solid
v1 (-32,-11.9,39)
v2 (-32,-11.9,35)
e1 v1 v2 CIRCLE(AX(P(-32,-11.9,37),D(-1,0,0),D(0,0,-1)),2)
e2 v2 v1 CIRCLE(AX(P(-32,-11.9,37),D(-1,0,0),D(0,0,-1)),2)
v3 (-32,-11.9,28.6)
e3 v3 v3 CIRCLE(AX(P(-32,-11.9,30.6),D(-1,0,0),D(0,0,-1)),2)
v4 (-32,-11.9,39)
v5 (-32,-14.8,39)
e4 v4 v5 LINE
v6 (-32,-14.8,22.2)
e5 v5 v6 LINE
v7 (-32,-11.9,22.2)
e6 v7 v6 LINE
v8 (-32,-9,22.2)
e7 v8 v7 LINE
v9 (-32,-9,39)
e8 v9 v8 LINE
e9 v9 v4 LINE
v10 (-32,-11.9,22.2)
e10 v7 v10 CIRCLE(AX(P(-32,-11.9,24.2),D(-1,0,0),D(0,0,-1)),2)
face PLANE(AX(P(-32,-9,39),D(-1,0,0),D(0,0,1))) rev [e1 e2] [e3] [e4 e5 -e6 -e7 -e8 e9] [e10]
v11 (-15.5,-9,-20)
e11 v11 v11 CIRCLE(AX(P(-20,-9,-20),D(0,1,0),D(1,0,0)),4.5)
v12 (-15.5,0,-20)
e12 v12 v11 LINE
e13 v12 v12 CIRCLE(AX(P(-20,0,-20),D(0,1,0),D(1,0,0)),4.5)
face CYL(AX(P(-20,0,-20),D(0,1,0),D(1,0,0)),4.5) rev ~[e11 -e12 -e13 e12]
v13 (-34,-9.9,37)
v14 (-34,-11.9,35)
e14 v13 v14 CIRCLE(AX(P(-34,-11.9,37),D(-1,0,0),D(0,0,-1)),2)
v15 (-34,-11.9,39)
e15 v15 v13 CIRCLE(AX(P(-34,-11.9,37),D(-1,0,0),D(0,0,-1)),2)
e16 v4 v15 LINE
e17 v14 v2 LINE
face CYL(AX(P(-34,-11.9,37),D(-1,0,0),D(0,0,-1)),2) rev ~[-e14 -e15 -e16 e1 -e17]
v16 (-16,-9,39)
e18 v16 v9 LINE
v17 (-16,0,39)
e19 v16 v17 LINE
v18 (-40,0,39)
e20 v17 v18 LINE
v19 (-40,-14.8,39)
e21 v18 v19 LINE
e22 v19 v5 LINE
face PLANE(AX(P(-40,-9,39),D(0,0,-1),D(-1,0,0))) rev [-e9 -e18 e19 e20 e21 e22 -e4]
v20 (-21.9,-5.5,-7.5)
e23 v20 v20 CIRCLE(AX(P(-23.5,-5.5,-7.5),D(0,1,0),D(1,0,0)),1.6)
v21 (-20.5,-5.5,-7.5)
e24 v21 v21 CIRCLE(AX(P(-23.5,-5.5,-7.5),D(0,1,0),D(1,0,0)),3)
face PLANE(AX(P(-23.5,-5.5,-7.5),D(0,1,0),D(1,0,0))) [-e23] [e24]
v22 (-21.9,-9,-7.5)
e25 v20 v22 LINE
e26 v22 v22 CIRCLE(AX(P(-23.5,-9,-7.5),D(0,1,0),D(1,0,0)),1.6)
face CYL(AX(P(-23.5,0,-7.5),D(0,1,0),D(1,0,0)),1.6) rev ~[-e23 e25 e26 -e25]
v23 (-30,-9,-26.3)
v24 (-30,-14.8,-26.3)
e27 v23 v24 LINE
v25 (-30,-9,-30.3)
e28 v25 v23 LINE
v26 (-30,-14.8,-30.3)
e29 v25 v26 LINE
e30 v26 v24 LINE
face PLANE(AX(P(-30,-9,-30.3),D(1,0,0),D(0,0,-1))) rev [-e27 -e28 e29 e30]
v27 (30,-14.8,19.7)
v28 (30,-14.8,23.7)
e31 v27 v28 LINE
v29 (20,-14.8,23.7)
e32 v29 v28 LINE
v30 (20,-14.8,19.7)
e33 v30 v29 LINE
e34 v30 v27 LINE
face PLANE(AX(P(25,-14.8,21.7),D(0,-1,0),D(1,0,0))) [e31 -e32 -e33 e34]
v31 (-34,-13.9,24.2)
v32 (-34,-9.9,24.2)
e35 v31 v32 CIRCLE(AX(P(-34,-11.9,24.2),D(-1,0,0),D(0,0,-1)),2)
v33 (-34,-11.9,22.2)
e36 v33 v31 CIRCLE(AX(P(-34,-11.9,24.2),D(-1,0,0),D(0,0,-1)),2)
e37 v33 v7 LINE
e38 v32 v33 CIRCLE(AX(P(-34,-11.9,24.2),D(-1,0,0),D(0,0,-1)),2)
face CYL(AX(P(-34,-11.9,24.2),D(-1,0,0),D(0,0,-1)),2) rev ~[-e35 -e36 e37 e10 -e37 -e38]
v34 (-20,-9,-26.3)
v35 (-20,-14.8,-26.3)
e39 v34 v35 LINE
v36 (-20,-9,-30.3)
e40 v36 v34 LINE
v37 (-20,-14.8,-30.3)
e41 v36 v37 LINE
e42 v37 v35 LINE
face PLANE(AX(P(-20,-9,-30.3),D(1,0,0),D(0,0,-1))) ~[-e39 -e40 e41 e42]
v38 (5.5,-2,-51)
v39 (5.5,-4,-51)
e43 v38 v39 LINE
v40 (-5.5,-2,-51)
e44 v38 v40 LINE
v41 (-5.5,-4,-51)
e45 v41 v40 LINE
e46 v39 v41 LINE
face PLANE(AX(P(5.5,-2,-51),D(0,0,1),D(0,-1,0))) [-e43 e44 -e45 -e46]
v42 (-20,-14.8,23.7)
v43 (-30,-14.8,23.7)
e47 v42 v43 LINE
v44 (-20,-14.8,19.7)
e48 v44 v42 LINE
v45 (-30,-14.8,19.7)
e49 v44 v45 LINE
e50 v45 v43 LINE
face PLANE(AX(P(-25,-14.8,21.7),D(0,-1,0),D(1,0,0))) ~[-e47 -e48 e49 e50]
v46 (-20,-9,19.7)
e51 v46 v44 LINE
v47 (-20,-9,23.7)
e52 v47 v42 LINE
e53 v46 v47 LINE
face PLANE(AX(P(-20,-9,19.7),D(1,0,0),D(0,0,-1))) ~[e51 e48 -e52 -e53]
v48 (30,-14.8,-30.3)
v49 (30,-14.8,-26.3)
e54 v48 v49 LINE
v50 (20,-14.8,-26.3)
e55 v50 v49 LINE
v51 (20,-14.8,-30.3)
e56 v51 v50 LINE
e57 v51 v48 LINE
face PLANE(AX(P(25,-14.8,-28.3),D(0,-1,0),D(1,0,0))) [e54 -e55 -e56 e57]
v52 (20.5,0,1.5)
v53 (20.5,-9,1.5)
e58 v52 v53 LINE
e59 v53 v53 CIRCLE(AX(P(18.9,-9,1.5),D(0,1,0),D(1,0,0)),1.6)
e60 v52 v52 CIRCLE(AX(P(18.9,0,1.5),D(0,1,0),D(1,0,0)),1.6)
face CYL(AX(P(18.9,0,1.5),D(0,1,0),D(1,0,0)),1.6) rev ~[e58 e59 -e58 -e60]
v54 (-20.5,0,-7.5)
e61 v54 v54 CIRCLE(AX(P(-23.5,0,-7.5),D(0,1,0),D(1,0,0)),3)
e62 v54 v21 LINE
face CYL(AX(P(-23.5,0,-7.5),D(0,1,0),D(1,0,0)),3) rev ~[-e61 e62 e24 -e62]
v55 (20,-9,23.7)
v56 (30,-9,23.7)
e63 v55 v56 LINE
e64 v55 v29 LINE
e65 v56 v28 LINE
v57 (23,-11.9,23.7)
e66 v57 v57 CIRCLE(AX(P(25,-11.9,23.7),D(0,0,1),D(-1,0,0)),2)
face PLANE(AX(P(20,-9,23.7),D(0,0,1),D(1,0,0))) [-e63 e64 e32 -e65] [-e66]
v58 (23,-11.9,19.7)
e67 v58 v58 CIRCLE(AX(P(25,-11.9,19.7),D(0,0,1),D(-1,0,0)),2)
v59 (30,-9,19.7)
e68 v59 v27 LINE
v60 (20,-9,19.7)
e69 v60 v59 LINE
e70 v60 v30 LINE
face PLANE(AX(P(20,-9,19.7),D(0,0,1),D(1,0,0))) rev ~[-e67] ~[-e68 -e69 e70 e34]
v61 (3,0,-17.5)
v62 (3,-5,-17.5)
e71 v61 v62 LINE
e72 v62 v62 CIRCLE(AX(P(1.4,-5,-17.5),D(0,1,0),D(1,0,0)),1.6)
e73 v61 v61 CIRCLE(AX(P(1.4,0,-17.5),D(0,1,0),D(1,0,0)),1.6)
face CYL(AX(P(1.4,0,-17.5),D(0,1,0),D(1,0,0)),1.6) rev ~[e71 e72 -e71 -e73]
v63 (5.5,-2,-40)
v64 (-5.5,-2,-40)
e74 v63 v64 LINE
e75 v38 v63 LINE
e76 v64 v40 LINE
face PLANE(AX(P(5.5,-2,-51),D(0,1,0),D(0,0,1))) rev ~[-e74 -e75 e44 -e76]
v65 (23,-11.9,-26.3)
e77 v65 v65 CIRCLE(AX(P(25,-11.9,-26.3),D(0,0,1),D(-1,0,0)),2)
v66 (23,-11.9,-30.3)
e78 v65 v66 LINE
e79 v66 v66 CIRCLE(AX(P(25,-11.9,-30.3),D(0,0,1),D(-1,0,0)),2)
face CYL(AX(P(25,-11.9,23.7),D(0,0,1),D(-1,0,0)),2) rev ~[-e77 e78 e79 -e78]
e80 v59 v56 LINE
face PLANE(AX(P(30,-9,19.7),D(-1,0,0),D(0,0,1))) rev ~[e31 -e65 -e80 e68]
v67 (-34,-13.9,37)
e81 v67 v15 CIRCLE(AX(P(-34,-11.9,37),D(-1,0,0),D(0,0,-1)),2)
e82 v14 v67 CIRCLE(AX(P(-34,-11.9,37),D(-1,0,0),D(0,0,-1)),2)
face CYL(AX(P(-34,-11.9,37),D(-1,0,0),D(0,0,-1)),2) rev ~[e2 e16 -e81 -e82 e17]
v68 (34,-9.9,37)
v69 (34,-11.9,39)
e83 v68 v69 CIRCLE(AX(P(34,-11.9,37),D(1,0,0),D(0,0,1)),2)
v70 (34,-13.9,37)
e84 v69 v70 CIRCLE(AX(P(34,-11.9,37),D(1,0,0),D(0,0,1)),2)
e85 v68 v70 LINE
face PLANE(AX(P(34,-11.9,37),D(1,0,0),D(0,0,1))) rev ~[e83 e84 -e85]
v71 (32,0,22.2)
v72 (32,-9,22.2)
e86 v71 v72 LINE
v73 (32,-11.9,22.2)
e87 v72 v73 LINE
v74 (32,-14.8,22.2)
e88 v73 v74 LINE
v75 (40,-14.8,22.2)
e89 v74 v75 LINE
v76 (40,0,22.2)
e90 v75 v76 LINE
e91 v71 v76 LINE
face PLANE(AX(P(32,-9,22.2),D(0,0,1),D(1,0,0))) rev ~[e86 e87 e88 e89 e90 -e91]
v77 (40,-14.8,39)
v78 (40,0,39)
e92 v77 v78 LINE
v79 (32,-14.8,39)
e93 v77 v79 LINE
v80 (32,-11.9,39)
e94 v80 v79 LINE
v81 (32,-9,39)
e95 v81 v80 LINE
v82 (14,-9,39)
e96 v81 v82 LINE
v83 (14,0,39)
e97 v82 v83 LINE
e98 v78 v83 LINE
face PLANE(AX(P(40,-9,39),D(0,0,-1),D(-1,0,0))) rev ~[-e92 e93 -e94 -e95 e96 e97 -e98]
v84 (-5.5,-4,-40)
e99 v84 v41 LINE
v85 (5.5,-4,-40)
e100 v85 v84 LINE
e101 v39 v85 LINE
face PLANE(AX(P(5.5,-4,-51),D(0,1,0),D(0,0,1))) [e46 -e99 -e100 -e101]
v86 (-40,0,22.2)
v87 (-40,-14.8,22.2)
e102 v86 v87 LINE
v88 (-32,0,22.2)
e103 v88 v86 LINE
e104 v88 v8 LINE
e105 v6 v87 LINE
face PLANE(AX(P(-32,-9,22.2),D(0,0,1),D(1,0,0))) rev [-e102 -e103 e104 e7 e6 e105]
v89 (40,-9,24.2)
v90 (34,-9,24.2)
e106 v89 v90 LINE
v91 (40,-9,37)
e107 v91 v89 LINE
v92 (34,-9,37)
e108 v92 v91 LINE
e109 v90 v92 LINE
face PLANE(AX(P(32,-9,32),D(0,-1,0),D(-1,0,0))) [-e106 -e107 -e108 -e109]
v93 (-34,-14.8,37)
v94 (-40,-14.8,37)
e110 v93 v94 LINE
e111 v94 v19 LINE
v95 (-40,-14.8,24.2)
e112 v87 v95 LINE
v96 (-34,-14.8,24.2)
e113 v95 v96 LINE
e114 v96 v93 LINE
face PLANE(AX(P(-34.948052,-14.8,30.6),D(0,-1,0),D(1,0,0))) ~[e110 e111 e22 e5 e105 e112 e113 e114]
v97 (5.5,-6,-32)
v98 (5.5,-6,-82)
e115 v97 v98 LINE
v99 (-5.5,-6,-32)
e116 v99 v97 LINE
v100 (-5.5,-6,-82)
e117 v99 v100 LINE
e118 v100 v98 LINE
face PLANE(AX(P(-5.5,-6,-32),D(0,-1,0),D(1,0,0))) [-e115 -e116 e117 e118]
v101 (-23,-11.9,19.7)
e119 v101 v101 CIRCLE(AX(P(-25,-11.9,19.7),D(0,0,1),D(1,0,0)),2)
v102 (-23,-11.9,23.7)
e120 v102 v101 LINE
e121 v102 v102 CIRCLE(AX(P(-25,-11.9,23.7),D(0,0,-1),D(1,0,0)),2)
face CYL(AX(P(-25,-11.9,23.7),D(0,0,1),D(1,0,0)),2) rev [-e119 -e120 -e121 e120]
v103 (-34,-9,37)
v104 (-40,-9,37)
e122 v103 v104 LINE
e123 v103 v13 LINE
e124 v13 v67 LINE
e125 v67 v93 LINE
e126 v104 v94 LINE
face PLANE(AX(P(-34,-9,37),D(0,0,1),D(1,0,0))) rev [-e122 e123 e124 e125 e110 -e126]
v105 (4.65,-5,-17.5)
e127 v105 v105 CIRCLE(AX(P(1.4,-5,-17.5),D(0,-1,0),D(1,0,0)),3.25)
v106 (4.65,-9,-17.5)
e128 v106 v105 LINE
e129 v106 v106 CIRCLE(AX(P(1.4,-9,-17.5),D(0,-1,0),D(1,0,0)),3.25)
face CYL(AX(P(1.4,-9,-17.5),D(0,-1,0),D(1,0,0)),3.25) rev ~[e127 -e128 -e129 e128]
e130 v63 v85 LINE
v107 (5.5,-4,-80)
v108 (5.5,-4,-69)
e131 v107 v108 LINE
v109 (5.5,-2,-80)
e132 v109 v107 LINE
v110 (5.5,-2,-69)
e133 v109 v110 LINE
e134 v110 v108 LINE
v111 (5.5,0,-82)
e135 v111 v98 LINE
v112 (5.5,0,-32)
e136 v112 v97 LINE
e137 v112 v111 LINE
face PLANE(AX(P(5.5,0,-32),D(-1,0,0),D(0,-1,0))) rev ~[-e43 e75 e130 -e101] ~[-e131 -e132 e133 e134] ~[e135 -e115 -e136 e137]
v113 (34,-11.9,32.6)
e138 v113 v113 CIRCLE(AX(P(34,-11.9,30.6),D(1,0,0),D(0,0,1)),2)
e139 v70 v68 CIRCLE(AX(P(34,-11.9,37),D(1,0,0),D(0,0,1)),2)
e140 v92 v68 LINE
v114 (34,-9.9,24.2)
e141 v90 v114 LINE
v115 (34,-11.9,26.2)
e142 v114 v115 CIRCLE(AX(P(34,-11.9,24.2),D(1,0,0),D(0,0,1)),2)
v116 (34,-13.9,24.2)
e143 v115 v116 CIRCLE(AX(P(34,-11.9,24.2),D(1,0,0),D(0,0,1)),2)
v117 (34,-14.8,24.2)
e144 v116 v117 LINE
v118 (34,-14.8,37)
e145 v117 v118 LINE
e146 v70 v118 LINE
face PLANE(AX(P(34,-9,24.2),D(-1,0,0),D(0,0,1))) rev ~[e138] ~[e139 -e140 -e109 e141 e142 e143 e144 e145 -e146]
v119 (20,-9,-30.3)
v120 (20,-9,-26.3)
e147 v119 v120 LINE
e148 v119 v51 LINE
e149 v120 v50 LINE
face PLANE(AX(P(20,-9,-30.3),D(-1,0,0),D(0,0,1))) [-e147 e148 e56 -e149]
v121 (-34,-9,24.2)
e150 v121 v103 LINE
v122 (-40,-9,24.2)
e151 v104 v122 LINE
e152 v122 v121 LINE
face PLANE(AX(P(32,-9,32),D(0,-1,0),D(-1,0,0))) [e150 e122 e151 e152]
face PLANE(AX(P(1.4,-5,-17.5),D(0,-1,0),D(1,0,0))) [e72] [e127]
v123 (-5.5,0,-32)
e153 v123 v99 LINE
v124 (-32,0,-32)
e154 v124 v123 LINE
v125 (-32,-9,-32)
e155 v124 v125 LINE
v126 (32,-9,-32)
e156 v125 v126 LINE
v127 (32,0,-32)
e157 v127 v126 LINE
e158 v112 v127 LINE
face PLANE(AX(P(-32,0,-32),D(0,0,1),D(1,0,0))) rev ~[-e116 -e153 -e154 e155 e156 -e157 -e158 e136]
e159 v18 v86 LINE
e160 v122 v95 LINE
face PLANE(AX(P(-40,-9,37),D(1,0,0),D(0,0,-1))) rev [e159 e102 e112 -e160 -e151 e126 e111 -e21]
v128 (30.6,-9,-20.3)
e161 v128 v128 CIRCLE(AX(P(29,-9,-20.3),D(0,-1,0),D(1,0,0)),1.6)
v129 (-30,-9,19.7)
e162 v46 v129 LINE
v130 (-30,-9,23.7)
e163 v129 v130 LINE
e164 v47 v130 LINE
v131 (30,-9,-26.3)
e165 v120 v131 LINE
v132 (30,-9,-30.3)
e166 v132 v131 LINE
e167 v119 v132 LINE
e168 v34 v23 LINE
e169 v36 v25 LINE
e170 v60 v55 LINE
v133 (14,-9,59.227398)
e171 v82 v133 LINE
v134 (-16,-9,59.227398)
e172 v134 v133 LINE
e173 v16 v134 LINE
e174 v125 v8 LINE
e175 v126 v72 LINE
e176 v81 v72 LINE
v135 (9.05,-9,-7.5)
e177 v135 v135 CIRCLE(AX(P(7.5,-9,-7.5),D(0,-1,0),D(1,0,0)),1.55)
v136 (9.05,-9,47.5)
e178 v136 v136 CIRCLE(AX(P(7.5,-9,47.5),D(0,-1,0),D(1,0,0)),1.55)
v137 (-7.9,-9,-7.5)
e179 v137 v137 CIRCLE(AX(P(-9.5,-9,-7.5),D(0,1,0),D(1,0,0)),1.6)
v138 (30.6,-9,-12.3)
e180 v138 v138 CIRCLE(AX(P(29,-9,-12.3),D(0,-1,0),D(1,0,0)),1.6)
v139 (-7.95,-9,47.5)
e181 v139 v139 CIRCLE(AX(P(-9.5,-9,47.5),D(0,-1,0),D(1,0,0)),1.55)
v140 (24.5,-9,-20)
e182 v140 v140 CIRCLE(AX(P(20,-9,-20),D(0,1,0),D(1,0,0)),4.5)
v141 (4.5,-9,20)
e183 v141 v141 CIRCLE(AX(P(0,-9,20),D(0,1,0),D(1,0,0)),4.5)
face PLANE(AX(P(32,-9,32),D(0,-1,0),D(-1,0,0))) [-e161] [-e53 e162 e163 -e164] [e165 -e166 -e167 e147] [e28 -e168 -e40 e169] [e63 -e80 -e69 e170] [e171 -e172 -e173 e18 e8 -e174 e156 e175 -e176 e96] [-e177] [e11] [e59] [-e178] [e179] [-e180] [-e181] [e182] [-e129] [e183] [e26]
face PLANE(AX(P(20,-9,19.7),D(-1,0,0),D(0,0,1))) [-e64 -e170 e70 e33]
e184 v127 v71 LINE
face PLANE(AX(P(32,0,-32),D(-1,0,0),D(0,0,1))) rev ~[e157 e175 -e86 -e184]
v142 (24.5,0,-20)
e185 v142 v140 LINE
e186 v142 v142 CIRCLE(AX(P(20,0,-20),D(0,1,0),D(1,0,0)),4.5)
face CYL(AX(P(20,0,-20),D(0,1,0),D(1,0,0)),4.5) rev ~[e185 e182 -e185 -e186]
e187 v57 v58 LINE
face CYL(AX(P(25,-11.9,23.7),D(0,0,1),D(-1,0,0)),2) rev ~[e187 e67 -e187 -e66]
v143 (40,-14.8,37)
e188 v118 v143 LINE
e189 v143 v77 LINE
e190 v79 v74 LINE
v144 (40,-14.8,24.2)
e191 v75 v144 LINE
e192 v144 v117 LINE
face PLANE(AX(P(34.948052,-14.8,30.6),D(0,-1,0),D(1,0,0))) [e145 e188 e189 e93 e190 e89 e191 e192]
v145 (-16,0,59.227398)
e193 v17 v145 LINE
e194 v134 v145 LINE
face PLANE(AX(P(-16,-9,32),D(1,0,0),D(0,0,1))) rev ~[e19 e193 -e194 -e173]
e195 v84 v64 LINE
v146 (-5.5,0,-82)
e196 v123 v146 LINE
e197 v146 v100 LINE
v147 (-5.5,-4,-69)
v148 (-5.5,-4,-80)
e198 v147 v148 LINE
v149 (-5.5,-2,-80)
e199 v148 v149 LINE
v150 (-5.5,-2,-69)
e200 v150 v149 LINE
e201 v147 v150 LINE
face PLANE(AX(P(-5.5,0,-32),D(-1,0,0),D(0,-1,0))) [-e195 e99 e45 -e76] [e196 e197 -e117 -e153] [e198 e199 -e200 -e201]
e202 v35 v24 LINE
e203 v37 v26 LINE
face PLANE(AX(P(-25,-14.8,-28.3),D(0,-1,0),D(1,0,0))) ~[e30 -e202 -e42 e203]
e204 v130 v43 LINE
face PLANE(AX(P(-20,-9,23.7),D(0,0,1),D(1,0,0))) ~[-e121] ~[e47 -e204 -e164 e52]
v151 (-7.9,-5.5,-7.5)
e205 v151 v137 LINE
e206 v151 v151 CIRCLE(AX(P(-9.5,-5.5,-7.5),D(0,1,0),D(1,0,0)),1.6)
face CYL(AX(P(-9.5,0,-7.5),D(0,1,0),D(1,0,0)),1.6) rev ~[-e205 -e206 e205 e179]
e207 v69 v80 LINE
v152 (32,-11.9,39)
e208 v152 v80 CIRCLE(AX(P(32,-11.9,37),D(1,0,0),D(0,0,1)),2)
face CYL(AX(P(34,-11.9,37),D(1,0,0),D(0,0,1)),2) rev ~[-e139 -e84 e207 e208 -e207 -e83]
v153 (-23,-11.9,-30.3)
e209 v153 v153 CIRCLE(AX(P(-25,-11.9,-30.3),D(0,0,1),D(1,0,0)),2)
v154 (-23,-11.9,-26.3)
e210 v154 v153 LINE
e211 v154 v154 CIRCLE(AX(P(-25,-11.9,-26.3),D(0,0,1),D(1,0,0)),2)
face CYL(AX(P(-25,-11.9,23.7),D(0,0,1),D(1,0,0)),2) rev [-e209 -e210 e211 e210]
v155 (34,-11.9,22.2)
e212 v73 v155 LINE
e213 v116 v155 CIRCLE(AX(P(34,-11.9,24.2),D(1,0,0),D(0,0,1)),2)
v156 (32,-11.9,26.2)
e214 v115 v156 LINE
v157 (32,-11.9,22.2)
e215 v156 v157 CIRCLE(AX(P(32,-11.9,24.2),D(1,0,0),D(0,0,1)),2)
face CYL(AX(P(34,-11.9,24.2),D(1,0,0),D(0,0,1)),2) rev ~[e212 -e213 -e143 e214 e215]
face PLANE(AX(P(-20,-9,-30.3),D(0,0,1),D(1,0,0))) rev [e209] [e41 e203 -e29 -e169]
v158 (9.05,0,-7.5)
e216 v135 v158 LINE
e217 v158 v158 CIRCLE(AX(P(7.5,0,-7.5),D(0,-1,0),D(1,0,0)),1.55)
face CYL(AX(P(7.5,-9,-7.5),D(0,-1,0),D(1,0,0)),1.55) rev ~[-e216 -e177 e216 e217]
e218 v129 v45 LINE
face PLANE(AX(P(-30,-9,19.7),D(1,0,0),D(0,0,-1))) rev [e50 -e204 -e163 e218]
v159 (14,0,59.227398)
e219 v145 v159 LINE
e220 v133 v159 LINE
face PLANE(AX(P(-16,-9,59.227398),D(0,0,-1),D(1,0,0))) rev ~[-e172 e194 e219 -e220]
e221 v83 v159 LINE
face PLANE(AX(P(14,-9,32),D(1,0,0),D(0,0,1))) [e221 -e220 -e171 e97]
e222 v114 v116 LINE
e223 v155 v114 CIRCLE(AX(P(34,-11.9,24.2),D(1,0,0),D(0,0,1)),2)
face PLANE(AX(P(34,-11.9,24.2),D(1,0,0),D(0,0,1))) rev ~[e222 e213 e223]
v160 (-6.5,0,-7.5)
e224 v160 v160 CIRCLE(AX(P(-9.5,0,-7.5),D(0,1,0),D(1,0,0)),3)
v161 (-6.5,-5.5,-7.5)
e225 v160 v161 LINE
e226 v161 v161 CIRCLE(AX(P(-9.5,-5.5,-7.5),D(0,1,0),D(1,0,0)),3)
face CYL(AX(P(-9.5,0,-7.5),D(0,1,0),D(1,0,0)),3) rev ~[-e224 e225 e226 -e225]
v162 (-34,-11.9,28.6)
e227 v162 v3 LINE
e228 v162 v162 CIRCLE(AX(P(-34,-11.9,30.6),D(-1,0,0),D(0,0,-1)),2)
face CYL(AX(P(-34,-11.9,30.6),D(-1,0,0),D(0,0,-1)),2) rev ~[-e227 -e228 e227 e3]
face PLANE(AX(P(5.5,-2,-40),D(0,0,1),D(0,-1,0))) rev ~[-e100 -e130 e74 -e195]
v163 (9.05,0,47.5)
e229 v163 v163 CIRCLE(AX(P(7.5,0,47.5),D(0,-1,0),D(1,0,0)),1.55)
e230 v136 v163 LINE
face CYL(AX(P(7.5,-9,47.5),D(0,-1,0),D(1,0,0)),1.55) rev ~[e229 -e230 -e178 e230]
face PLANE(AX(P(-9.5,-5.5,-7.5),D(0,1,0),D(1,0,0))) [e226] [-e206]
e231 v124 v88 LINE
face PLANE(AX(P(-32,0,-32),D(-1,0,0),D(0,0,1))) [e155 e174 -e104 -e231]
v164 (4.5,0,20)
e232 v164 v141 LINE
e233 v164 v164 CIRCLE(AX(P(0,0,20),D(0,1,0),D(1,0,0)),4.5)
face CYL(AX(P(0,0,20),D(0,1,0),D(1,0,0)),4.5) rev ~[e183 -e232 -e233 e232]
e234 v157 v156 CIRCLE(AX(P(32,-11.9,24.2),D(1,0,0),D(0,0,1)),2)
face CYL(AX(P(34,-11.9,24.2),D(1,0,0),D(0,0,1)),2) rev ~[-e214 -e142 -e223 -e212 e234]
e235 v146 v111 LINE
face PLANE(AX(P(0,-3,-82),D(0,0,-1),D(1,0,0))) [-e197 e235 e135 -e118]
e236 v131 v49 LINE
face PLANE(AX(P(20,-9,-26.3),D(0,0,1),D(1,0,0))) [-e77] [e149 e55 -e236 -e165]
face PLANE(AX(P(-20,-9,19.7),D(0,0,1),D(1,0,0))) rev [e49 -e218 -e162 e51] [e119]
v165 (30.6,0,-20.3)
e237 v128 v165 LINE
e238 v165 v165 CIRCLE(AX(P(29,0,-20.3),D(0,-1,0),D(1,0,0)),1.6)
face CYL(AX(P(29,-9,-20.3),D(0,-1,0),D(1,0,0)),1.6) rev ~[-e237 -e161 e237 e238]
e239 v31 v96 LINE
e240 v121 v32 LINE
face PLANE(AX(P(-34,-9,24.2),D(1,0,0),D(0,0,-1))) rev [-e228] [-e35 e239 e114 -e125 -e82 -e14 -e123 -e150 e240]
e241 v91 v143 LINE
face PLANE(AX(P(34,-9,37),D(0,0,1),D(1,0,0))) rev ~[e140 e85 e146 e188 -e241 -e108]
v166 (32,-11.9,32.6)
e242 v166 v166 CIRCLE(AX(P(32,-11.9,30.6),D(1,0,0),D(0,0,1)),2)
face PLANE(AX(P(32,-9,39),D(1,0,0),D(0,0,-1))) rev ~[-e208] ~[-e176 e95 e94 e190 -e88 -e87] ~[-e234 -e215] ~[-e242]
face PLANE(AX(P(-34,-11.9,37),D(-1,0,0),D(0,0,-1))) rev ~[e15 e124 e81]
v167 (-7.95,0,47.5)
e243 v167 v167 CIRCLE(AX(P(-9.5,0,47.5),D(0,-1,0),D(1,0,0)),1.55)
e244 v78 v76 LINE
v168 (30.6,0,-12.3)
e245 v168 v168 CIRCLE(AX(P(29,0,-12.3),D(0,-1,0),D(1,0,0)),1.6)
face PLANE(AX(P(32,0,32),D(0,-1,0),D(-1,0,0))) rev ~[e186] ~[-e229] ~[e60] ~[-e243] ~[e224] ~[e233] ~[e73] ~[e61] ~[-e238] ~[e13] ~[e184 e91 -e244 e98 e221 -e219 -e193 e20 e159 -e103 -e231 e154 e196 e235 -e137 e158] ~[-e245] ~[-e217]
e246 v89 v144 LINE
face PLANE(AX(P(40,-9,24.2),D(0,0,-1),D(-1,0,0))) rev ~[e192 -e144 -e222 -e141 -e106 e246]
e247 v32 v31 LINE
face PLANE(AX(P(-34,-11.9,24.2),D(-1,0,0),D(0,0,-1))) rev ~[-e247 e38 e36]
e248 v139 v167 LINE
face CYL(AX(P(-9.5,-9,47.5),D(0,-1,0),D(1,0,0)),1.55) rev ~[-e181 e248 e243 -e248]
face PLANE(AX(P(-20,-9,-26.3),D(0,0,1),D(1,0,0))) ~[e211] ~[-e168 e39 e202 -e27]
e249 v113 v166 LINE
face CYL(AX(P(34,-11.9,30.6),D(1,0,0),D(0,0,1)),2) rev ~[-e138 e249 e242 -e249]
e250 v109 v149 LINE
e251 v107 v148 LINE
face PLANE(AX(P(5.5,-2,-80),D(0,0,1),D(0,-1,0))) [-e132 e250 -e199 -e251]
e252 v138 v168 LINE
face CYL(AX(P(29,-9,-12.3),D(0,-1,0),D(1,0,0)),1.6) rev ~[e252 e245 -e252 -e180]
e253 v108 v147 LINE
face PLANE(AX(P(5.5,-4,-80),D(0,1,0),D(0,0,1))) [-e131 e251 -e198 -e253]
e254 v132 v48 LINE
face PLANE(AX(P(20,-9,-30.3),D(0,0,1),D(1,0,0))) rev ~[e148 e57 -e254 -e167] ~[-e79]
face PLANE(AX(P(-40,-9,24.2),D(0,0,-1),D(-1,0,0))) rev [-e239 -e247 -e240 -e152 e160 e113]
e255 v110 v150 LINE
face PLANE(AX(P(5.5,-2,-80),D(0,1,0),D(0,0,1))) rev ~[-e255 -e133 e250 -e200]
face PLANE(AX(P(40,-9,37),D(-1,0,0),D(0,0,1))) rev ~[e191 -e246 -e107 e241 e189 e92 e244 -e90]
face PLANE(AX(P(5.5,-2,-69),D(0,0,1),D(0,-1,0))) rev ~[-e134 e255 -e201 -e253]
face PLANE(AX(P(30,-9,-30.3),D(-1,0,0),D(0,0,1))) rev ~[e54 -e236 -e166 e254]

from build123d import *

# Parameters (mm, degrees)
SKETCH022_W            = 64
SKETCH022_H            = 64
PAD020_DEPTH           = 9
SKETCH023_R            = 1.6
POCKET003_DEPTH        = 9
SKETCH024_R            = 1.6
POCKET004_DEPTH        = 9
SKETCH025_R            = 3
POCKET005_DEPTH        = 5.5
SKETCH026_R            = 4.5
POCKET006_DEPTH        = 9
SKETCH030_R            = 1.55
POCKET009_DEPTH        = 9
SKETCH031_W            = 30
SKETCH031_H            = 27.227398
PAD022_DEPTH           = 9
SKETCH032_R            = 1.55
POCKET010_DEPTH        = 9
SKETCH066_W            = 16.8
SKETCH066_H            = 9
PAD040_DEPTH           = 8
PAD040_FACE8_W         = 9
PAD040_FACE8_H         = 16
PAD041_DEPTH           = 7
MIRRORED_FACE11_W      = 9
MIRRORED_FACE11_H      = 18
PAD042_DEPTH           = 7
PAD043_DEPTH           = 5.8
SKETCH068_R            = 2
POCKET027_DEPTH        = 5
LINEARPATTERN_COUNT    = 3
LINEARPATTERN_PITCH    = 6.4
SKETCH069_R            = 2
POCKET028_DEPTH        = 5
LINEARPATTERN001_COUNT = 3
LINEARPATTERN001_PITCH = 6.4
SKETCH071_W            = 10
SKETCH071_H            = 4
PAD044_DEPTH           = 5.8
SKETCH073_R            = 2
POCKET029_DEPTH        = 100
SKETCH074_W            = 11
SKETCH074_H            = 6
PAD045_DEPTH           = 50
SKETCH075_W            = 11
SKETCH075_H            = 2
POCKET030_DEPTH        = 12
SKETCH076_R            = 1.6
POCKET031_DEPTH        = 10
SKETCH083_R            = 3.25
POCKET035_DEPTH        = 4


with BuildPart() as part:
    # Sketch022 → Pad020 (new body)
    with BuildSketch(Plane.XZ):
        Rectangle(SKETCH022_W, SKETCH022_H)
    extrude(amount=PAD020_DEPTH)

    # Sketch023 (on Face5 of Pad020) → Pocket003 (cut)
    with BuildSketch(Plane(origin=(0, 0, 0), x_dir=(1, 0, 0), z_dir=(0, 1, 0))):
        with Locations((-9.5, 7.5)):
            Circle(SKETCH023_R)
        with Locations((-23.5, 7.5)):
            Circle(SKETCH023_R)
    extrude(amount=-POCKET003_DEPTH, mode=Mode.SUBTRACT)

    # Sketch024 (on Face4 of Pocket003) → Pocket004 (cut)
    with BuildSketch(Plane(origin=(0, 0, 0), x_dir=(1, 0, 0), z_dir=(0, 1, 0))):
        with Locations((1.4, 17.5)):
            Circle(SKETCH024_R)
        with Locations((18.9, -1.5)):
            Circle(SKETCH024_R)
    extrude(amount=-POCKET004_DEPTH, mode=Mode.SUBTRACT)

    # Sketch025 (on Face4 of Pocket004) → Pocket005 (cut)
    with BuildSketch(Plane(origin=(0, 0, 0), x_dir=(1, 0, 0), z_dir=(0, 1, 0))):
        with Locations((-23.5, 7.5)):
            Circle(SKETCH025_R)
        with Locations((-9.5, 7.5)):
            Circle(SKETCH025_R)
    extrude(amount=-POCKET005_DEPTH, mode=Mode.SUBTRACT)

    # Sketch026 (on Face4 of Pocket005) → Pocket006 (cut)
    with BuildSketch(Plane(origin=(0, 0, 0), x_dir=(1, 0, 0), z_dir=(0, 1, 0))):
        with Locations((0, -20)):
            Circle(SKETCH026_R)
        with Locations((20, 20)):
            Circle(SKETCH026_R)
        with Locations((-20, 20)):
            Circle(SKETCH026_R)
    extrude(amount=-POCKET006_DEPTH, mode=Mode.SUBTRACT)

    # Sketch030 (on Face5 of Pocket006) → Pocket009 (cut)
    with BuildSketch(Plane.XZ.offset(9)):
        with Locations((7.5, -7.5)):
            Circle(SKETCH030_R)
    extrude(amount=-POCKET009_DEPTH, mode=Mode.SUBTRACT)

    # Sketch031 (on Face5 of Pocket009) → Pad022 (join)
    with BuildSketch(Plane.XZ.offset(9)):
        with Locations((-1, 45.613699)):
            Rectangle(SKETCH031_W, SKETCH031_H)
    extrude(amount=-PAD022_DEPTH)

    # Sketch032 (on Face22 of Pad022) → Pocket010 (cut)
    with BuildSketch(Plane.XZ.offset(9)):
        with Locations((-9.5, 47.5)):
            Circle(SKETCH032_R)
        with Locations((7.5, 47.5)):
            Circle(SKETCH032_R)
    extrude(amount=-POCKET010_DEPTH, mode=Mode.SUBTRACT)

    # Sketch066 (on Face2 of Pocket010) → Pad040 (join)
    with BuildSketch(Plane(origin=(-32, 0, 0), x_dir=(0, 0, -1), z_dir=(-1, 0, 0))):
        with Locations((-30.6, 4.5)):
            Rectangle(SKETCH066_W, SKETCH066_H)
    pad040 = extrude(amount=PAD040_DEPTH)

    # Pad040 Face8 → Pad041 (add)
    with BuildSketch(Plane(origin=(-24, -4.5, 32), x_dir=(0, 1, 0), z_dir=(0, 0, 1))):
        Rectangle(PAD040_FACE8_W, PAD040_FACE8_H)
    extrude(amount=PAD041_DEPTH)

    # Mirrored: Pad040 across YZ
    add(pad040.mirror(Plane.YZ))

    # Mirrored Face11 → Pad042 (add)
    with BuildSketch(Plane(origin=(23, -4.5, 32), x_dir=(0, 1, 0), z_dir=(0, 0, 1))):
        Rectangle(MIRRORED_FACE11_W, MIRRORED_FACE11_H)
    extrude(amount=PAD042_DEPTH)

    # Sketch067 (on Face27 of Pad042) → Pad043 (join)
    with BuildSketch(Plane.XZ.offset(9)):
        Polygon((40, 39), (32, 39), (32, 22.2), (40, 22.2), (40, 24.2), (34, 24.2), (34, 37), (40, 37), align=None)
    pad043 = extrude(amount=PAD043_DEPTH)

    # Mirrored001: Pad043 across YZ
    add(pad043.mirror(Plane.YZ))

    # Sketch068 (on Face37 of Mirrored001) → Pocket027 (cut)
    with BuildSketch(Plane(origin=(-34, 0, 0), x_dir=(0, 0, -1), z_dir=(-1, 0, 0))):
        with Locations((-24.2, 11.9)):
            Circle(SKETCH068_R)
    pocket027 = extrude(amount=-POCKET027_DEPTH, mode=Mode.SUBTRACT)

    # LinearPattern: Pocket027 ×3
    with Locations(*[(0, 0, i * LINEARPATTERN_PITCH) for i in range(1, LINEARPATTERN_COUNT)]):
        add(pocket027, mode=Mode.SUBTRACT)

    # Sketch069 (on Face44 of LinearPattern) → Pocket028 (cut)
    with BuildSketch(Plane(origin=(34, 0, 0), x_dir=(0, 0, 1), z_dir=(1, 0, 0))):
        with Locations((37, 11.9)):
            Circle(SKETCH069_R)
    pocket028 = extrude(amount=-POCKET028_DEPTH, mode=Mode.SUBTRACT)

    # LinearPattern001: Pocket028 ×3
    with Locations(*[(0, 0, -i * LINEARPATTERN001_PITCH) for i in range(1, LINEARPATTERN001_COUNT)]):
        add(pocket028, mode=Mode.SUBTRACT)

    # Sketch071 (on Face35 of LinearPattern001) → Pad044 (join)
    with BuildSketch(Plane.XZ.offset(9)):
        with Locations((25, 21.7)):
            Rectangle(SKETCH071_W, SKETCH071_H)
        with Locations((25, -28.3)):
            Rectangle(SKETCH071_W, SKETCH071_H)
    pad044 = extrude(amount=PAD044_DEPTH)

    # Mirrored003: Pad044 across Sketch071 V_Axis
    add(pad044.mirror(Plane(origin=(0, -9, 0), x_dir=(0, -1, 0), z_dir=(1, 0, 0))))

    # Sketch073 (on Face49 of Mirrored003) → Pocket029 (cut)
    with BuildSketch(Plane(origin=(0, 0, 23.7), x_dir=(-1, 0, 0), z_dir=(0, 0, 1))):
        with Locations((-25, 11.9)):
            Circle(SKETCH073_R)
    pocket029 = extrude(amount=-POCKET029_DEPTH, mode=Mode.SUBTRACT)

    # Mirrored004: Pocket029 across YZ
    add(pocket029.mirror(Plane.YZ), mode=Mode.SUBTRACT)

    # Sketch074 (on Face15 of Mirrored004) → Pad045 (join)
    with BuildSketch(Plane(origin=(0, 0, -32), x_dir=(1, 0, 0), z_dir=(0, 0, -1))):
        with Locations((0, 3)):
            Rectangle(SKETCH074_W, SKETCH074_H)
    extrude(amount=PAD045_DEPTH)

    # Sketch075 (on Face41 of Pad045) → Pocket030 (cut)
    with BuildSketch(Plane(origin=(5.5, 0, 0), x_dir=(0, 0, 1), z_dir=(1, 0, 0))):
        with Locations((-74.5, 3)):
            Rectangle(SKETCH075_W, SKETCH075_H)
        with Locations((-45.5, 3)):
            Rectangle(SKETCH075_W, SKETCH075_H)
    extrude(amount=-POCKET030_DEPTH, mode=Mode.SUBTRACT)

    # Sketch076 (on Face30 of Pocket030) → Pocket031 (cut)
    with BuildSketch(Plane.XZ.offset(9)):
        with Locations((29, -12.3)):
            Circle(SKETCH076_R)
        with Locations((29, -20.3)):
            Circle(SKETCH076_R)
    extrude(amount=-POCKET031_DEPTH, mode=Mode.SUBTRACT)

    # Sketch083 (on Face32 of Pocket031) → Pocket035 (cut)
    with BuildSketch(Plane.XZ.offset(9)):
        with Locations((1.4, -17.5)):
            Circle(SKETCH083_R)
    extrude(amount=-POCKET035_DEPTH, mode=Mode.SUBTRACT)


solid = part.part
